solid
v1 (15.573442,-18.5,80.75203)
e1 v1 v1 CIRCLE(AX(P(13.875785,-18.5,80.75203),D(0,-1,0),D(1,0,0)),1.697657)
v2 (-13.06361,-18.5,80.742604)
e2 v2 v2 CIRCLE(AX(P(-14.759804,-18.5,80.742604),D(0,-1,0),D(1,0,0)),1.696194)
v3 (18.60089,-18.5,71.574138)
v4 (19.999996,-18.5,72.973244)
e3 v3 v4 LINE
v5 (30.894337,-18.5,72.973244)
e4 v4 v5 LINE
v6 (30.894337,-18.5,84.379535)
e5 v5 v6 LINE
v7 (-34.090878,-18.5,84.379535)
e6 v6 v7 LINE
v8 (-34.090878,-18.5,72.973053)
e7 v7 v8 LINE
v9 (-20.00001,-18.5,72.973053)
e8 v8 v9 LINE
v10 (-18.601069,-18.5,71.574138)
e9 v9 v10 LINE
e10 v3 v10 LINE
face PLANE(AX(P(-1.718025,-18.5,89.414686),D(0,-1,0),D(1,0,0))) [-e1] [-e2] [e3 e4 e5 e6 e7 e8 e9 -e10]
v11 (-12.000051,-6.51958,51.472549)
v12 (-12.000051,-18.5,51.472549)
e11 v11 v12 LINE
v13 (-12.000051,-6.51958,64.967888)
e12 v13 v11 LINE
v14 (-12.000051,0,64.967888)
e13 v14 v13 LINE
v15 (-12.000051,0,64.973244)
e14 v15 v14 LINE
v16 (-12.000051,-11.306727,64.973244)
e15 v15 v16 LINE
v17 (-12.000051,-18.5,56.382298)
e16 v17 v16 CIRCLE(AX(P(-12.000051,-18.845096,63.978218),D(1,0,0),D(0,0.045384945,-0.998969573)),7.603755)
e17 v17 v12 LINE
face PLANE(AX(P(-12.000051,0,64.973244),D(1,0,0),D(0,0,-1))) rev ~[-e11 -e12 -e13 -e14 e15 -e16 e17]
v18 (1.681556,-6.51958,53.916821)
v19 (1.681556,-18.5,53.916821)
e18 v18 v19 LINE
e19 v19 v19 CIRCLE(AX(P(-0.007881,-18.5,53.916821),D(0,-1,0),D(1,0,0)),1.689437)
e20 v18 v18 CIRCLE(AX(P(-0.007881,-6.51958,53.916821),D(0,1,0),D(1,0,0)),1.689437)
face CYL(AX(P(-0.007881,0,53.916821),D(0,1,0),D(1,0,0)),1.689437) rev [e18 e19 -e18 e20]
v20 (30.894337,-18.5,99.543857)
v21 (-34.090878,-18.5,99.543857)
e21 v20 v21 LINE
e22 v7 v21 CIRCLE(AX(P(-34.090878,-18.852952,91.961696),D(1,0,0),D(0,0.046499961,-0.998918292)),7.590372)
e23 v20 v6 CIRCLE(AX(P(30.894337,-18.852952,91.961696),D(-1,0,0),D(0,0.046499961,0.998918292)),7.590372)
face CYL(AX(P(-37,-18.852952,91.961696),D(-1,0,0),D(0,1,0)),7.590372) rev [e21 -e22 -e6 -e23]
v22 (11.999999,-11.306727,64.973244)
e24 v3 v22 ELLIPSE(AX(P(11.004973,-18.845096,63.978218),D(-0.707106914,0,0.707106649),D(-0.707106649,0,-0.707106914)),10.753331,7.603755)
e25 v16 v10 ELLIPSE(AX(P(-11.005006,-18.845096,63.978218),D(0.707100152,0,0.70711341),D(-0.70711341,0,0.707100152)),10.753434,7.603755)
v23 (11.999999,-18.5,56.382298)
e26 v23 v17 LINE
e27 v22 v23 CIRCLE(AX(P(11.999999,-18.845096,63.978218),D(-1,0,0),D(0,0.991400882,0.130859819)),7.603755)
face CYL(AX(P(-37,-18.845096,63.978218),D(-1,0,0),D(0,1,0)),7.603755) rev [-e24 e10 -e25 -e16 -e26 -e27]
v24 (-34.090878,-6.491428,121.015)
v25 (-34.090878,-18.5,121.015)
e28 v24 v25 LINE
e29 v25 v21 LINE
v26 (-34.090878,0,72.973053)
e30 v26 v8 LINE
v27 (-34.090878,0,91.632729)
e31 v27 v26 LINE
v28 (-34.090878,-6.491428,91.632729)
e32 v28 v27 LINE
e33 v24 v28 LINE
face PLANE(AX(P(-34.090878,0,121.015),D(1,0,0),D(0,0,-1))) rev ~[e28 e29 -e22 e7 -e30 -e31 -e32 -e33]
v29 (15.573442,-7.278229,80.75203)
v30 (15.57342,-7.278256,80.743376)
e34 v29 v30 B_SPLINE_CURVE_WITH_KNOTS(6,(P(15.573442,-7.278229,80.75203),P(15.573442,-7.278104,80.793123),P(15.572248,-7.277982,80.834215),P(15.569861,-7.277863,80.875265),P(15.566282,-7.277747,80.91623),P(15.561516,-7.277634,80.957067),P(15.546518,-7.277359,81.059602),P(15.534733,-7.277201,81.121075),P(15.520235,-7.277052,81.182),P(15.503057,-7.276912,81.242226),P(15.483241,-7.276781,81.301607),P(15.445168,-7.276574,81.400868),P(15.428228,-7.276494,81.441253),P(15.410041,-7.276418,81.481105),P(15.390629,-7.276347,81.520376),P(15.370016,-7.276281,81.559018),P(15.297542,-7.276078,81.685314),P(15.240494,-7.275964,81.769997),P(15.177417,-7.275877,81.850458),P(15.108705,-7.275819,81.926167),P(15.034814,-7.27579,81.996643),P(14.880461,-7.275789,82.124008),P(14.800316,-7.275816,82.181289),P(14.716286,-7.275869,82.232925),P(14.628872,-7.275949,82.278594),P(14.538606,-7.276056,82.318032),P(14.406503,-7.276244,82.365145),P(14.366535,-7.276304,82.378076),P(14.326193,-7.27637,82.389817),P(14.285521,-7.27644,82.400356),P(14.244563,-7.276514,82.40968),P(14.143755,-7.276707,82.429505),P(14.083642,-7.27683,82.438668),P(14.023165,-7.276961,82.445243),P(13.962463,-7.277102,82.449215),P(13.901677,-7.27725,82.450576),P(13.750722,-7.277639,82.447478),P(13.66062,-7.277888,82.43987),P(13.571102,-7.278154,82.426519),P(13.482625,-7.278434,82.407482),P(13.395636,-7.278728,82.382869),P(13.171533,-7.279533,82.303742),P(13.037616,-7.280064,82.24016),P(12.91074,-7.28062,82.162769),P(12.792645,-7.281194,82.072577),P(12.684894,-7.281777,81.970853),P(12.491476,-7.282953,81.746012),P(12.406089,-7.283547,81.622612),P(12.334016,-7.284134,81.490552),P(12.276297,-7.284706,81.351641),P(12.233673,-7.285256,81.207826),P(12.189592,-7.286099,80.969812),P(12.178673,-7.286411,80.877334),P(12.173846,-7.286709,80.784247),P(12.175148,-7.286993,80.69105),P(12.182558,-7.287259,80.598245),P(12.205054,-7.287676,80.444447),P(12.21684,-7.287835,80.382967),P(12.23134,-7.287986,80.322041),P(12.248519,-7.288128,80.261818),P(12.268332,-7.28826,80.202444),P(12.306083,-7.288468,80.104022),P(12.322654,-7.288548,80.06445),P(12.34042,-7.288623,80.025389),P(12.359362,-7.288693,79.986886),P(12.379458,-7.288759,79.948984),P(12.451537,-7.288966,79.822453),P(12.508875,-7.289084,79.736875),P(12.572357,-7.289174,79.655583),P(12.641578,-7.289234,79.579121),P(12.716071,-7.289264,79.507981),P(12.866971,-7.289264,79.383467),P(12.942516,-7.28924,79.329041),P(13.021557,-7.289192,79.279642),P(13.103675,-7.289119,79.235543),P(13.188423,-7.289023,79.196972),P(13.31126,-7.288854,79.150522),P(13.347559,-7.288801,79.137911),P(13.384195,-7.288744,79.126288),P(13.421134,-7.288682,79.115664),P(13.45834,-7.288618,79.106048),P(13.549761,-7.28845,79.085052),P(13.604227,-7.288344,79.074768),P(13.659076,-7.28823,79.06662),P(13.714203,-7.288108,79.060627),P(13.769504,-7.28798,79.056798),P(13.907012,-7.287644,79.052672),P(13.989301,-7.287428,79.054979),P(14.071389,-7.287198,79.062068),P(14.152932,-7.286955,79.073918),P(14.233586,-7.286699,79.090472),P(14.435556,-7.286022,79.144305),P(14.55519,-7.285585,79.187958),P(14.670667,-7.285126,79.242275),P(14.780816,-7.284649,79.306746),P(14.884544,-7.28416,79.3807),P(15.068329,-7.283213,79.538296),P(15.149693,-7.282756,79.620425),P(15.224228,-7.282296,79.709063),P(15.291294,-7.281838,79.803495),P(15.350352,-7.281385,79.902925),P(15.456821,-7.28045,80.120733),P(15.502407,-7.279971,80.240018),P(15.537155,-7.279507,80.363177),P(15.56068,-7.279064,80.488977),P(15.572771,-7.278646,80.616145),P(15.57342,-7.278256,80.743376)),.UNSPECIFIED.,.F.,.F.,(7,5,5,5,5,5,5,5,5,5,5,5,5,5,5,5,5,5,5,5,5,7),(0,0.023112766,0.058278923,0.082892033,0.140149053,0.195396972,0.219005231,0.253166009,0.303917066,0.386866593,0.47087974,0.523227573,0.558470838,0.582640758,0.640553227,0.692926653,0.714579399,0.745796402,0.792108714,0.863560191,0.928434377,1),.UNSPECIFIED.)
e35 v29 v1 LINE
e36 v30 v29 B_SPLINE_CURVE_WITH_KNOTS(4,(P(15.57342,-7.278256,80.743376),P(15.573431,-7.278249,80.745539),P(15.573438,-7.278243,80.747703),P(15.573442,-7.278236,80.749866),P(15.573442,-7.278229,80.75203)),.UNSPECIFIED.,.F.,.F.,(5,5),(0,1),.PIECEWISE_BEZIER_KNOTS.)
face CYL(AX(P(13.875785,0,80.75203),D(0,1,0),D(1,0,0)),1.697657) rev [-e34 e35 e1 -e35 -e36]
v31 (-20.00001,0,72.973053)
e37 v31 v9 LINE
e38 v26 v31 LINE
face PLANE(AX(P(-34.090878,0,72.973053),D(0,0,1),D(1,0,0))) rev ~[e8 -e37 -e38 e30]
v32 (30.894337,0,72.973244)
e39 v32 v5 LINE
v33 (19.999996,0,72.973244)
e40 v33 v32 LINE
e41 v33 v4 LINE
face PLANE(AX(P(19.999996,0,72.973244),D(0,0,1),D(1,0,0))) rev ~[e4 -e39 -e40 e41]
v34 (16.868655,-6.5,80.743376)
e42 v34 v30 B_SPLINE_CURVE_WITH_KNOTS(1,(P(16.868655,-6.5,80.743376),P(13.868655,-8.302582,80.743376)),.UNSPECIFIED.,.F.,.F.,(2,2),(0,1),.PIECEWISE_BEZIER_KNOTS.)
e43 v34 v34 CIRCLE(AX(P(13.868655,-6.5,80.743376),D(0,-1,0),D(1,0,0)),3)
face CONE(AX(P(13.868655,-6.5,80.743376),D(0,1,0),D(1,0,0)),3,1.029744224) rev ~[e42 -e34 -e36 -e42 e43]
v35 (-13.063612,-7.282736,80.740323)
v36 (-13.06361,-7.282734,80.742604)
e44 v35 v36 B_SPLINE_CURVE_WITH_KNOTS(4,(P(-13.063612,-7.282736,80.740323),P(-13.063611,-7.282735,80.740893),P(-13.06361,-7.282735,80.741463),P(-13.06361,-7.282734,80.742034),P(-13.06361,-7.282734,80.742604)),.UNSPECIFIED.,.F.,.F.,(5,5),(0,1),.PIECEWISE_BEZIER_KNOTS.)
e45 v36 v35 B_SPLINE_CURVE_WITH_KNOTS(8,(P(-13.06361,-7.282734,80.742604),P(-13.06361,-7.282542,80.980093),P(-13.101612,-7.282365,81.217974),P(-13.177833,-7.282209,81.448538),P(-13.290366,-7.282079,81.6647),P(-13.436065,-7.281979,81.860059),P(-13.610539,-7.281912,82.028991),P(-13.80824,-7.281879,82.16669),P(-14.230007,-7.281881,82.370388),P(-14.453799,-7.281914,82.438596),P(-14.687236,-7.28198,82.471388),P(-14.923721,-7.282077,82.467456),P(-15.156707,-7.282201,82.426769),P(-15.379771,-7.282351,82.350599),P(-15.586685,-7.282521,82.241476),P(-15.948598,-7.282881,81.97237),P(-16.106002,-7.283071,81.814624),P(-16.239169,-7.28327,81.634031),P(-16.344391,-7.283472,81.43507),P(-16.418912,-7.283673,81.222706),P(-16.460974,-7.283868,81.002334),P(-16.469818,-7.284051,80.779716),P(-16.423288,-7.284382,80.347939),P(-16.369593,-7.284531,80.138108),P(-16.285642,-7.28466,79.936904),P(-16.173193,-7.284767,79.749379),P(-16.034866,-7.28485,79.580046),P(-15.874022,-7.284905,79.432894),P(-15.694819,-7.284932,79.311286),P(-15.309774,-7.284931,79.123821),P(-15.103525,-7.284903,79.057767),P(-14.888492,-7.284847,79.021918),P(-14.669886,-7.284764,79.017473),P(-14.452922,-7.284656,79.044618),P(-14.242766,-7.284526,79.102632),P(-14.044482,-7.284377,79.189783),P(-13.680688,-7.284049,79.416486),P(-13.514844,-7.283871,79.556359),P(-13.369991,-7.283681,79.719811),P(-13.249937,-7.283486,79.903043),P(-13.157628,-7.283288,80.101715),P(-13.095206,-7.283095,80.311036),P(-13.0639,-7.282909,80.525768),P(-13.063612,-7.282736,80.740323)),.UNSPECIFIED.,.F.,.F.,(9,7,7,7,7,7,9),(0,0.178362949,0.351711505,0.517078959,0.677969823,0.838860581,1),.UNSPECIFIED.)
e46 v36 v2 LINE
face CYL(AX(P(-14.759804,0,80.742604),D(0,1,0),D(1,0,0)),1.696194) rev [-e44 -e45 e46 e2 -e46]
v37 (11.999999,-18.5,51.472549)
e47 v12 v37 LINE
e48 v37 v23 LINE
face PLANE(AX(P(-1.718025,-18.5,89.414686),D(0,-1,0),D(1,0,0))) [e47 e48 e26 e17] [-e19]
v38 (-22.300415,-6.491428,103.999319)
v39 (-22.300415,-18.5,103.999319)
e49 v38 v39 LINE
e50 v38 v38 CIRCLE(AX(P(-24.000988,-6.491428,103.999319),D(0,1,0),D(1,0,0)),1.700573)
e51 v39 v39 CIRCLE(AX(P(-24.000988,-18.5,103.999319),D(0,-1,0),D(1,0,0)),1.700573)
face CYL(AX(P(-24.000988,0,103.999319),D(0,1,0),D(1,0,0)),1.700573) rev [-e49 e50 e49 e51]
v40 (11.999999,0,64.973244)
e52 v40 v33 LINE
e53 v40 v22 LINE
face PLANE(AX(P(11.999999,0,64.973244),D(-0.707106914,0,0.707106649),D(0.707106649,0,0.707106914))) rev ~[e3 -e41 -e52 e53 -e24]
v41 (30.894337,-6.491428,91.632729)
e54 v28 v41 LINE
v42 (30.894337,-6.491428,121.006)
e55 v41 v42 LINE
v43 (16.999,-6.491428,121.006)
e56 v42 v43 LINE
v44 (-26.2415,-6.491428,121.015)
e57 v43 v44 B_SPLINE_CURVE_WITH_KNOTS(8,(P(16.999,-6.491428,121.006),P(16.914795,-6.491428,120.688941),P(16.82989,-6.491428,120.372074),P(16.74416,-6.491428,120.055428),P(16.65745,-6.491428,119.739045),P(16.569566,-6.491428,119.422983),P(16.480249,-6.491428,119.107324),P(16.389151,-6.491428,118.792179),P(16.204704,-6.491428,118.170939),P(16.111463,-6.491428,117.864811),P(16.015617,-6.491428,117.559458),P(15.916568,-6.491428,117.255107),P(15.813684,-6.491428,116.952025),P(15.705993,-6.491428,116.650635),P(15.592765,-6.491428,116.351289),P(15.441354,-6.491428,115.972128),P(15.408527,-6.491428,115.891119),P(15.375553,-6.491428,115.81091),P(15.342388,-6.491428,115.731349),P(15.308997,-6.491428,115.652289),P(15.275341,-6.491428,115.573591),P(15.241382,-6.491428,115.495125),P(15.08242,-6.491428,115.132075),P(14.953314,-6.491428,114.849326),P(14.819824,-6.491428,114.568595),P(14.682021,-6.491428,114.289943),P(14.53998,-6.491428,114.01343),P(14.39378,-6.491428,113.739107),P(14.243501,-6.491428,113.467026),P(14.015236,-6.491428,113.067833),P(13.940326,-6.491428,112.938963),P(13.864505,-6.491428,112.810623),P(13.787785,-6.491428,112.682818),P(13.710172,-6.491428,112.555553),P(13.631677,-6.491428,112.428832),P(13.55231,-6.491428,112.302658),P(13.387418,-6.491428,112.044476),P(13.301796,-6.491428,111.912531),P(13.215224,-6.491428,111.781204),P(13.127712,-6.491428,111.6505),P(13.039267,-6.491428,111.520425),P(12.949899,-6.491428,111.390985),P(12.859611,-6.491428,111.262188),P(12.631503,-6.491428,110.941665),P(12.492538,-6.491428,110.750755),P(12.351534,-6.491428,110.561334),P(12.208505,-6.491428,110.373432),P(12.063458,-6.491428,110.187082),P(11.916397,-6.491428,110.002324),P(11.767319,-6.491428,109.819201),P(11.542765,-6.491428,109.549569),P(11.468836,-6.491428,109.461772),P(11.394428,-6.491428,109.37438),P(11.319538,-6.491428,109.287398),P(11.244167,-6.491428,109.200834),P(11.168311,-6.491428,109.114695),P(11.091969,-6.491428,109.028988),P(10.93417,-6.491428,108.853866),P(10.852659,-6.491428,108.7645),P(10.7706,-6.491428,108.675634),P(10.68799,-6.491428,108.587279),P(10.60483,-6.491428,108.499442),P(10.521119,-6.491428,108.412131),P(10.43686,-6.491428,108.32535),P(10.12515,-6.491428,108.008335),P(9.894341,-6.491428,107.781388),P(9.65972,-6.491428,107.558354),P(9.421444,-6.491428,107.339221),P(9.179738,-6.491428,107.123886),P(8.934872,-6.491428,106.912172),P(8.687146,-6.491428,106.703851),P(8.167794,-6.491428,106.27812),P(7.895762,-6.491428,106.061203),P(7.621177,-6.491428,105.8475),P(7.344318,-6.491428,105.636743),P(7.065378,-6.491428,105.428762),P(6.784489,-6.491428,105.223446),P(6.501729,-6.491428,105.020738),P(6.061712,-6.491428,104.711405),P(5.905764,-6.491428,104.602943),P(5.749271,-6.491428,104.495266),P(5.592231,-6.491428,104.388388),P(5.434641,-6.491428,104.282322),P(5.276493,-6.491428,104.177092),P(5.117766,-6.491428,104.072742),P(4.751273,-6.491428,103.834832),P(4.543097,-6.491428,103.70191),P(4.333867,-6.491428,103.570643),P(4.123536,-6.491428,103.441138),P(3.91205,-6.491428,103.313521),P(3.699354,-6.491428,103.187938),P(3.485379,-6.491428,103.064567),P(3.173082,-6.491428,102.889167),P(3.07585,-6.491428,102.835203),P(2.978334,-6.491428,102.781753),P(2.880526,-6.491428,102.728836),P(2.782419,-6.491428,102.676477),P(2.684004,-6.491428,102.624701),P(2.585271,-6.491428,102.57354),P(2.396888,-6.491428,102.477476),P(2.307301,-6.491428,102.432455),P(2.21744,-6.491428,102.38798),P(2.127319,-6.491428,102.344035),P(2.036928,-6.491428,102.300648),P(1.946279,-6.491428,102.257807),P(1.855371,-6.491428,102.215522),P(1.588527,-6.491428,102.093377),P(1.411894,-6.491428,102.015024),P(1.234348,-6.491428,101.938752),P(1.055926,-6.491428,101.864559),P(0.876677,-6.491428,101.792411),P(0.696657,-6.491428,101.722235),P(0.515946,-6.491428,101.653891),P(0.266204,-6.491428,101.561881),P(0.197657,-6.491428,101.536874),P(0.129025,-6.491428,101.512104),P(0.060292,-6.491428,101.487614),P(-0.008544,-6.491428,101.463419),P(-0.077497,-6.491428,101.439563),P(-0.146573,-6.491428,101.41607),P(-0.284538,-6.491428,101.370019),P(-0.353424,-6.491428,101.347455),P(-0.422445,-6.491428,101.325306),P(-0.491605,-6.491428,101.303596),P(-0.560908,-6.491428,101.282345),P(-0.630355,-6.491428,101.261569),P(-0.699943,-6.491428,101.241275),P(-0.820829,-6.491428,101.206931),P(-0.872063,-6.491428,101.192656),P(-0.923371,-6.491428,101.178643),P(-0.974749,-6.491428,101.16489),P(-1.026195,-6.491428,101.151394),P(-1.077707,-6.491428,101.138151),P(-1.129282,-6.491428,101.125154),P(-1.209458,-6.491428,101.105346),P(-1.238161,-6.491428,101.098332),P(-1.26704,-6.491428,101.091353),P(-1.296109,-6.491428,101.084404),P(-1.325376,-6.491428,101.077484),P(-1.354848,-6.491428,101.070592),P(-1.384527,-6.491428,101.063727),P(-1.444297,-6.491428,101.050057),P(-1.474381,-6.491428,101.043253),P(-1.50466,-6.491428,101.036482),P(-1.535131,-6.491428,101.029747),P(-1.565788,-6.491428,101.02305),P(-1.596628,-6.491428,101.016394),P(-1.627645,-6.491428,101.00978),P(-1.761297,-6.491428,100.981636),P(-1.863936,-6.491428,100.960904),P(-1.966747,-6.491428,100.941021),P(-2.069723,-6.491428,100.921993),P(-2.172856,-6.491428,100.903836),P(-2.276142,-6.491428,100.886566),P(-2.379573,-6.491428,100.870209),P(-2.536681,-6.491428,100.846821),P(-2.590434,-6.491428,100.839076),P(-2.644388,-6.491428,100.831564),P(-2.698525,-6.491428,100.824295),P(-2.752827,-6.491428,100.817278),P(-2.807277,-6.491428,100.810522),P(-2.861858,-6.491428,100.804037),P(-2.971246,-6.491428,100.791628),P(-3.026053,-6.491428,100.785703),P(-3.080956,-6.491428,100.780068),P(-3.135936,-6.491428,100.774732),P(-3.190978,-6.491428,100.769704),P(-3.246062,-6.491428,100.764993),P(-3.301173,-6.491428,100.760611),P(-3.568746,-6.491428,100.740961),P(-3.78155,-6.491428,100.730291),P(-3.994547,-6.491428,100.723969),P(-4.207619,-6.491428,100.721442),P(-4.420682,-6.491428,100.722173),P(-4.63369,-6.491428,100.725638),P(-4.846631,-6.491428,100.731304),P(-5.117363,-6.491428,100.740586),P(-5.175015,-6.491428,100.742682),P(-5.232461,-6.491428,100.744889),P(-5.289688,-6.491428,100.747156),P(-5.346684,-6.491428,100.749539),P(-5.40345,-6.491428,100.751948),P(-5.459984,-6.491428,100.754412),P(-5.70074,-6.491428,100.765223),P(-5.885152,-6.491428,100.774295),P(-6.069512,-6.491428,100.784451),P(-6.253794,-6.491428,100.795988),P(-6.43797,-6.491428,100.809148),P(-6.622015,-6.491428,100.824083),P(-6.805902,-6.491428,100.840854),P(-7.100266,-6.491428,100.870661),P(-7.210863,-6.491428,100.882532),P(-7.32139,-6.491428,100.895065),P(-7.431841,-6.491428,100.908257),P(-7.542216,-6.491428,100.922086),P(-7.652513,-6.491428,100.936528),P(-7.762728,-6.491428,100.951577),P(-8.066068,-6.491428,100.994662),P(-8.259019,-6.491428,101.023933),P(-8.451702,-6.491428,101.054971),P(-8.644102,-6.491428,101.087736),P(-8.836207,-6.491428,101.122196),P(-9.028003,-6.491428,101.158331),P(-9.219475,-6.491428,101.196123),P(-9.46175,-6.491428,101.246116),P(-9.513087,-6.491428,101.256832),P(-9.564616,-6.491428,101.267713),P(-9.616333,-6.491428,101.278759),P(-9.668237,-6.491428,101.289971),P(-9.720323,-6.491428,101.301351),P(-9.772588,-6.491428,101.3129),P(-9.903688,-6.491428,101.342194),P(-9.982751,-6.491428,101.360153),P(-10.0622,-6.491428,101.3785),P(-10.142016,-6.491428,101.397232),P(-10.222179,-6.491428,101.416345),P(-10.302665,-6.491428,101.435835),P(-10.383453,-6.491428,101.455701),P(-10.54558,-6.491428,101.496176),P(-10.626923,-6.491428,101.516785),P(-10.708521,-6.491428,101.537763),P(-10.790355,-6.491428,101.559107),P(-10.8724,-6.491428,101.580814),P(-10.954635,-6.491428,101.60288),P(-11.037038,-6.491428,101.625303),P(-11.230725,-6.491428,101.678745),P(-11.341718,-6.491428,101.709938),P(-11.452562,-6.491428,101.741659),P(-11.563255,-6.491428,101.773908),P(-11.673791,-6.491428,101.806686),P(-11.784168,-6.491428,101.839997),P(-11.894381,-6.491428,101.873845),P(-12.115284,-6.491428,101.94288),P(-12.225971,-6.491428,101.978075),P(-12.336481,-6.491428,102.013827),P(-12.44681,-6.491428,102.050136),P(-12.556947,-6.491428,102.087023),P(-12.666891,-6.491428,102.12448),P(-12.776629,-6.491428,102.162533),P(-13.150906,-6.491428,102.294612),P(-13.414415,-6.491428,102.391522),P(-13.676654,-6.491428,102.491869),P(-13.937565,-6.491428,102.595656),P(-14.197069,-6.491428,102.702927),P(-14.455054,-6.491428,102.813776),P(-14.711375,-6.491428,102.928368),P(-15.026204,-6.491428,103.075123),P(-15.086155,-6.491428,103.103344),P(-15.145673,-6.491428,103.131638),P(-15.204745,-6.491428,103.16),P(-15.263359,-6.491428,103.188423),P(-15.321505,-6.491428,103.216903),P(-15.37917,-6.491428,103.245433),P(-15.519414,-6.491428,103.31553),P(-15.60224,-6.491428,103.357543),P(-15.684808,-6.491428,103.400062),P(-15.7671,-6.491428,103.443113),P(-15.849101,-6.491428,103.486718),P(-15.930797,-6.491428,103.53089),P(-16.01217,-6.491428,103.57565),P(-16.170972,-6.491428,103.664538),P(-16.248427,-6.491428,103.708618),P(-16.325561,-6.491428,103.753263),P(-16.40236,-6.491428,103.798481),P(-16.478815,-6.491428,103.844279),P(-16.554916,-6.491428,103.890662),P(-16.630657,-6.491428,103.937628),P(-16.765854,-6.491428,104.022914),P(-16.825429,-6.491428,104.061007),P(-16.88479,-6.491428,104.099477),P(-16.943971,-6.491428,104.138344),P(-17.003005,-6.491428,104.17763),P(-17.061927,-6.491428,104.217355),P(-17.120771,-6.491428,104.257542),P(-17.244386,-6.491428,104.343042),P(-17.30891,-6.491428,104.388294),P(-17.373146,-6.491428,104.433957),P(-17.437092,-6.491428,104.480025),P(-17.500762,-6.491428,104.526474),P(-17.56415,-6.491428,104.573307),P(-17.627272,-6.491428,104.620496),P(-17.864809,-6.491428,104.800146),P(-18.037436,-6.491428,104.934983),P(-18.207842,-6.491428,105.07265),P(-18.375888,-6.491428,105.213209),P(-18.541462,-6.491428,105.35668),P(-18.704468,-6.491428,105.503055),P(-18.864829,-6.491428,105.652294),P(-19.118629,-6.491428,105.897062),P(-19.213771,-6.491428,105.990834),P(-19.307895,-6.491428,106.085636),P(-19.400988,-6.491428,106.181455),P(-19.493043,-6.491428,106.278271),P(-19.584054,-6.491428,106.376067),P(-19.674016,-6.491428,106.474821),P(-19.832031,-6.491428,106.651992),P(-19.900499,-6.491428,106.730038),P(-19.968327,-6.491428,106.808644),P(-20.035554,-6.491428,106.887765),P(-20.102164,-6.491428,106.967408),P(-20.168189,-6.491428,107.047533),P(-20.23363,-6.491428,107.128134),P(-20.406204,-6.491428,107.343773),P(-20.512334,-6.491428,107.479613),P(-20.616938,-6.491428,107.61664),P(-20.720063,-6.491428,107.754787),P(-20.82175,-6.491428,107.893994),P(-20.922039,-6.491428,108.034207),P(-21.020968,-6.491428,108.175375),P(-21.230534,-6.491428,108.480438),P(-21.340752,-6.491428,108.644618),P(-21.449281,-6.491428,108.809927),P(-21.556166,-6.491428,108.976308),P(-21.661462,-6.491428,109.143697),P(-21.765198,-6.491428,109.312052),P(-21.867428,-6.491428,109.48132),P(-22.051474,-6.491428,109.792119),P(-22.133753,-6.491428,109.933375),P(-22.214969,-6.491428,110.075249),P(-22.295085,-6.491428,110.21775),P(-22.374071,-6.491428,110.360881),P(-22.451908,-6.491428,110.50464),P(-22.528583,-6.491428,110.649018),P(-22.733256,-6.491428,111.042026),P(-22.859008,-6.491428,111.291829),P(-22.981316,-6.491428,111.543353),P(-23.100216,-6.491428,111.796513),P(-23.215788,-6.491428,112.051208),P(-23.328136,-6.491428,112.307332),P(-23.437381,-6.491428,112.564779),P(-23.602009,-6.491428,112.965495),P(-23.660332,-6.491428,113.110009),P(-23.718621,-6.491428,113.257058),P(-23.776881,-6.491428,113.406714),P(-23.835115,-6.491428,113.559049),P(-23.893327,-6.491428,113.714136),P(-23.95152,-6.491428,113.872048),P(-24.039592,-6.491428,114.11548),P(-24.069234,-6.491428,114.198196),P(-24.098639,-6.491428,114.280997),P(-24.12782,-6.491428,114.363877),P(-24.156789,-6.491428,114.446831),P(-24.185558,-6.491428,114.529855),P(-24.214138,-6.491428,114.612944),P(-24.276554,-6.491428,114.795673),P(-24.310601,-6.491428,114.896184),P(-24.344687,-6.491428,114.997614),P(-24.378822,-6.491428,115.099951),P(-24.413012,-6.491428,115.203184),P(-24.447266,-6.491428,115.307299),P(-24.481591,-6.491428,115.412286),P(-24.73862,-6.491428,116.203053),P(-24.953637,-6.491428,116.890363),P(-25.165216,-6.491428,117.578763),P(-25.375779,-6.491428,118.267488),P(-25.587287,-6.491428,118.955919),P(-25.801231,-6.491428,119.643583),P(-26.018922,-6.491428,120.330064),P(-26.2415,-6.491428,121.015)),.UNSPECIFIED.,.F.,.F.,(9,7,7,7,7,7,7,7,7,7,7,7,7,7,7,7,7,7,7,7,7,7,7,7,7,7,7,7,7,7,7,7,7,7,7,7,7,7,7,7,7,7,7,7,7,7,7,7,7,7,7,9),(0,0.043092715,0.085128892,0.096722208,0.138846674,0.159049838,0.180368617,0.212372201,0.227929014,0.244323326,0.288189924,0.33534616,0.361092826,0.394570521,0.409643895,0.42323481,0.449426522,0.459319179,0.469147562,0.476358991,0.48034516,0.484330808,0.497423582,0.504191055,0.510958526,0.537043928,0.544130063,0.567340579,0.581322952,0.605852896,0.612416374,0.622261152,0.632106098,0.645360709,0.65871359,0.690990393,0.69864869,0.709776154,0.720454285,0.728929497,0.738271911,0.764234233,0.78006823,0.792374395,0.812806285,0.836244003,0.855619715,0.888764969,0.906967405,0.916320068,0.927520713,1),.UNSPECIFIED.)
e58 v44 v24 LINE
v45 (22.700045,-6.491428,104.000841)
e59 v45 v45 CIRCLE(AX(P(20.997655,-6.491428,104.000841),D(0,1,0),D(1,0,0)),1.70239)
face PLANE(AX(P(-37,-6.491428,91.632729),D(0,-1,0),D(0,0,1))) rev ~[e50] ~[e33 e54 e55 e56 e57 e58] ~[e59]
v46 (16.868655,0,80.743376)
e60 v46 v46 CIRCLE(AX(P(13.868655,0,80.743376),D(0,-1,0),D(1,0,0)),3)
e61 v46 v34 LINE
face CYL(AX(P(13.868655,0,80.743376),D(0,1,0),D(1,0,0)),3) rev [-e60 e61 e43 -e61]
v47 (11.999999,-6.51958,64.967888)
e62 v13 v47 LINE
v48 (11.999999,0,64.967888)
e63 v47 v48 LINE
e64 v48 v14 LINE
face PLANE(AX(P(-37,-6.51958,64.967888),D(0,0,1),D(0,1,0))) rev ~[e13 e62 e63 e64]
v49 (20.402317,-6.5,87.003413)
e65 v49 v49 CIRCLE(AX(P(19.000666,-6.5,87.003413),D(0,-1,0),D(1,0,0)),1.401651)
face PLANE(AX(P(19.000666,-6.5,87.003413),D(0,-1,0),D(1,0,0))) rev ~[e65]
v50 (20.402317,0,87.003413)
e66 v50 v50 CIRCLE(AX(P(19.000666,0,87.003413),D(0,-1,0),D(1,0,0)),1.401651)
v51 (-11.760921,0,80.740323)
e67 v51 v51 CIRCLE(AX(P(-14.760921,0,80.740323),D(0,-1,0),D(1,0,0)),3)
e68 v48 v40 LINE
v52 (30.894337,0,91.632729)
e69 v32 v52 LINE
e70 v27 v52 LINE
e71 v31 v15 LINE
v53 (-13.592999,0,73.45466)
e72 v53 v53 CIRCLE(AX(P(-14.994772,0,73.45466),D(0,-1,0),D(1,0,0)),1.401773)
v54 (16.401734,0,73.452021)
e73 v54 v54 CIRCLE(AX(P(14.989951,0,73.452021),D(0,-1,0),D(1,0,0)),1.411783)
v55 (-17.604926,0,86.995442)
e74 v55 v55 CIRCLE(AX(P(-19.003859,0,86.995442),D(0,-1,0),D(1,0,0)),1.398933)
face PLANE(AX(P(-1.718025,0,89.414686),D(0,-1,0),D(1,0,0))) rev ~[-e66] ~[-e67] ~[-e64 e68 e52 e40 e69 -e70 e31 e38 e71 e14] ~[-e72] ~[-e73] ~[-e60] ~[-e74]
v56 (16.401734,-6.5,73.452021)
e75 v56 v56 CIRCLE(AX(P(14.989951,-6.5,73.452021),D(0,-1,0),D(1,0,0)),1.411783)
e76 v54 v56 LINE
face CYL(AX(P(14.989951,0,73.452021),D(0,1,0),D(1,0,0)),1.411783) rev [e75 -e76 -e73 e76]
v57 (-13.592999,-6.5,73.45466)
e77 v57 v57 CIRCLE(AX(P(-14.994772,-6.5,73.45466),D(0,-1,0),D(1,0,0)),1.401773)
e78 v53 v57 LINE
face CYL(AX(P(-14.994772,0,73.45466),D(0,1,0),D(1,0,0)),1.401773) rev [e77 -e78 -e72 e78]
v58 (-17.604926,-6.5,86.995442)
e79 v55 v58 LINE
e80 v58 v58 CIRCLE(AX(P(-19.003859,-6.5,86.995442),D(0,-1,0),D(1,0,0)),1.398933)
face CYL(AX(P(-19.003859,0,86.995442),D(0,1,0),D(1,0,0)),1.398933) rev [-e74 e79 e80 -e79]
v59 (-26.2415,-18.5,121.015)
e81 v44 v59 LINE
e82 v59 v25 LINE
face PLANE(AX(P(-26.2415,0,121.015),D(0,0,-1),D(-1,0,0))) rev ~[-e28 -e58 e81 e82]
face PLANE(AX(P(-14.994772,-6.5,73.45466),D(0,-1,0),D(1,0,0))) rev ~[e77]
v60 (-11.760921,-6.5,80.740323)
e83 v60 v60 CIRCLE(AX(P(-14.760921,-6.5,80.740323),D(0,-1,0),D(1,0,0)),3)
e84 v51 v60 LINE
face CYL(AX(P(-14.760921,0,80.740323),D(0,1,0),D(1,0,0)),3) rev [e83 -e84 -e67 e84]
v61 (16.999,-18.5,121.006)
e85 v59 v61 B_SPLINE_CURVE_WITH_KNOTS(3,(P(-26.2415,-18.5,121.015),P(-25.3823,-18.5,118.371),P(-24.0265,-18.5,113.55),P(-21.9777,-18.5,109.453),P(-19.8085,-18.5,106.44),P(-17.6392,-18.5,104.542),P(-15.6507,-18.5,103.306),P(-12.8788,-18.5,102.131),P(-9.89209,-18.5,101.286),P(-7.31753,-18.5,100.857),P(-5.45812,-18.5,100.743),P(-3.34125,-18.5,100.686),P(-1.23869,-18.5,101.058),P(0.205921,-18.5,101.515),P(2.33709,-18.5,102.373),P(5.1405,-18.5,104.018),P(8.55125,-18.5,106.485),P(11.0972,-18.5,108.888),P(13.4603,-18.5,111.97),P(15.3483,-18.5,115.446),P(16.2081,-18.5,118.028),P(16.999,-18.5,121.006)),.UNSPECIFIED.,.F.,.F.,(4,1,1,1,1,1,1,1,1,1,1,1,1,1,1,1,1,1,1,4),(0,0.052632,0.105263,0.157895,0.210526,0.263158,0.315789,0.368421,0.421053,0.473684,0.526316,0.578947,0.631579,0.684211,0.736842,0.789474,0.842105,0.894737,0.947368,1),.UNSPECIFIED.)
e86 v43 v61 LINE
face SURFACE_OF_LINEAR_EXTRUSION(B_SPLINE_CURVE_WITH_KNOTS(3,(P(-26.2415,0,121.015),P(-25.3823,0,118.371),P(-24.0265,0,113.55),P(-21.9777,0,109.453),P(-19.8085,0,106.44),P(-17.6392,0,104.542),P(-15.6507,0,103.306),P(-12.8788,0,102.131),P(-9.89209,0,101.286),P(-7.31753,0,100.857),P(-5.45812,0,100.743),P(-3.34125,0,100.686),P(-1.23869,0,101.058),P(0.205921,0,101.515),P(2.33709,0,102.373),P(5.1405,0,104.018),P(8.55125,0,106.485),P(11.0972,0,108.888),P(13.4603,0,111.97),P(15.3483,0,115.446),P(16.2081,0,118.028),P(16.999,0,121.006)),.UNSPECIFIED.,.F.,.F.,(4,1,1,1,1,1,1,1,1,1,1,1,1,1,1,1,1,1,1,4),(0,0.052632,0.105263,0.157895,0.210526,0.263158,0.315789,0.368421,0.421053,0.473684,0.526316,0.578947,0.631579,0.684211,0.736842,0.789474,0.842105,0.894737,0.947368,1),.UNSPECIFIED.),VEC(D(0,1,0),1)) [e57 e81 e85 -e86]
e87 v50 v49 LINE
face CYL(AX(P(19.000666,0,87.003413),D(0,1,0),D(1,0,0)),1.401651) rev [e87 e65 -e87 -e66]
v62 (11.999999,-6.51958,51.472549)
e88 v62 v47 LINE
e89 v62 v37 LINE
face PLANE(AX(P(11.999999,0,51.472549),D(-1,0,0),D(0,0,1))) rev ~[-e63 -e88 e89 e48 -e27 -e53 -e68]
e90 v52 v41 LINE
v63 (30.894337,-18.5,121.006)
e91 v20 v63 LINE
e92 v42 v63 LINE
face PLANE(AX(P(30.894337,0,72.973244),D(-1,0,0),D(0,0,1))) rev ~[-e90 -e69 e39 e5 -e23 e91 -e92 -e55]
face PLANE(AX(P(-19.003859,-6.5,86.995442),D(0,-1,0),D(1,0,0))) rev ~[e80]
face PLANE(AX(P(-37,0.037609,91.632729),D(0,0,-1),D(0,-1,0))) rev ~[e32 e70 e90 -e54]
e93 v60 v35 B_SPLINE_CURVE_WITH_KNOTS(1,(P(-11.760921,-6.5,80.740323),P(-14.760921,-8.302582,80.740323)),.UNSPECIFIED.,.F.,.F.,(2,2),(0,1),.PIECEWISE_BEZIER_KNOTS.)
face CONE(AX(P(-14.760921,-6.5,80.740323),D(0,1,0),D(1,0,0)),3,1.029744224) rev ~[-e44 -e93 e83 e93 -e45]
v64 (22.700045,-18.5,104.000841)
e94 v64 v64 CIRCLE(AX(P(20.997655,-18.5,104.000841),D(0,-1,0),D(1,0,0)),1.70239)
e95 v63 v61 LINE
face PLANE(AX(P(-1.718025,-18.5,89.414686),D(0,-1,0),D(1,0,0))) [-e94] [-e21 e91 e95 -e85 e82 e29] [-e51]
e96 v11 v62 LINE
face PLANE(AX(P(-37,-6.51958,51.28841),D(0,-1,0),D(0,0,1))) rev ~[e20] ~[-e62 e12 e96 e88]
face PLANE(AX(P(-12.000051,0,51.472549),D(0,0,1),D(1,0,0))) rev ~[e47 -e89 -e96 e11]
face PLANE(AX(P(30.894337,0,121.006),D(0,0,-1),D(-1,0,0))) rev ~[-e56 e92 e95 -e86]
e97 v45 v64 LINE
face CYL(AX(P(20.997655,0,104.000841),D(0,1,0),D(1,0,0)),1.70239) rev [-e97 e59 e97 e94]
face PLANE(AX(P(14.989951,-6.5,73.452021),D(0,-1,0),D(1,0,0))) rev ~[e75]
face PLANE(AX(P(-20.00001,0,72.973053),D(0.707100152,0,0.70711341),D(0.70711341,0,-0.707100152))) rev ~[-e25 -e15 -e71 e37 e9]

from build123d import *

# Parameters (mm, degrees)
SKETCH_R        = 1.700573
SKETCH_R_2      = 1.696194
SKETCH_R_3      = 1.70239
SKETCH_R_4      = 1.697657
SKETCH_R_5      = 1.689437
PAD_DEPTH       = 18.5
SKETCH001_R     = 7.590372
SKETCH001_R_2   = 7.603755
POCKET_DEPTH    = 97
SKETCH002_R     = 3
HOLE_DEPTH      = 6.5
HOLE_TIPS_R     = 3
SKETCH003_R     = 1.411783
SKETCH003_R_2   = 1.401773
SKETCH003_R_3   = 1.398933
SKETCH003_R_4   = 1.401651
POCKET001_DEPTH = 6.5


with BuildPart() as part:
    # Sketch → Pad (new body)
    with BuildSketch(Plane.XZ):
        with BuildLine():
            Line((-26.2415, 121.015), (-34.090878, 121.015))
            Line((-34.090878, 121.015), (-34.090878, 72.973053))
            Line((-34.090878, 72.973053), (-20.00001, 72.973053))
            Line((-20.00001, 72.973053), (-12.000051, 64.973244))
            Line((-12.000051, 64.973244), (-12.000051, 51.472549))
            Line((-12.000051, 51.472549), (11.999999, 51.472549))
            Line((11.999999, 51.472549), (11.999999, 64.973244))
            Line((11.999999, 64.973244), (19.999996, 72.973244))
            Line((19.999996, 72.973244), (30.894337, 72.973244))
            Line((30.894337, 72.973244), (30.894337, 121.006))
            Line((30.894337, 121.006), (16.999, 121.006))
            add(Edge.make_bspline(
                [(-26.2415, 121.015), (-25.3823, 118.371), (-24.0265, 113.55), (-21.9777, 109.453), (-19.8085, 106.44), (-17.6392, 104.542), (-15.6507, 103.306), (-12.8788, 102.131), (-9.89209, 101.286), (-7.31753, 100.857), (-5.45812, 100.743), (-3.34125, 100.686), (-1.23869, 101.058), (0.205921, 101.515), (2.33709, 102.373), (5.1405, 104.018), (8.55125, 106.485), (11.0972, 108.888), (13.4603, 111.97), (15.3483, 115.446), (16.2081, 118.028), (16.999, 121.006)],
                knots=[0, 0, 0, 0, 0.052632, 0.105263, 0.157895, 0.210526, 0.263158, 0.315789, 0.368421, 0.421053, 0.473684, 0.526316, 0.578947, 0.631579, 0.684211, 0.736842, 0.789474, 0.842105, 0.894737, 0.947368, 1, 1, 1, 1], degree=3))
        make_face()
        with Locations((-24.000988, 103.999319)):
            Circle(SKETCH_R, mode=Mode.SUBTRACT)
        with Locations((-14.759804, 80.742604)):
            Circle(SKETCH_R_2, mode=Mode.SUBTRACT)
        with Locations((20.997655, 104.000841)):
            Circle(SKETCH_R_3, mode=Mode.SUBTRACT)
        with Locations((13.875785, 80.75203)):
            Circle(SKETCH_R_4, mode=Mode.SUBTRACT)
        with Locations((-0.007881, 53.916821)):
            Circle(SKETCH_R_5, mode=Mode.SUBTRACT)
    extrude(amount=PAD_DEPTH)

    # Sketch001 → Pocket (cut)
    with BuildSketch(Plane.YZ.offset(-37)):
        with Locations((-18.852952, 91.961696)):
            Circle(SKETCH001_R)
        with Locations((-18.845096, 63.978218)):
            Circle(SKETCH001_R_2)
        Polygon((-6.51958, 51.28841), (-6.51958, 64.967888), (0.037609, 64.967888), (0.037609, 73.101757), (0.037609, 91.632729), (-6.491428, 91.632729), (-6.491428, 124.613274), (19.66001, 122.879639), (13.066299, 46.559637), align=None)
    extrude(amount=POCKET_DEPTH, mode=Mode.SUBTRACT)

    # Sketch002 → Hole (cut)
    with BuildSketch(Plane.XZ):
        with Locations((-14.760921, 80.740323)):
            Circle(SKETCH002_R)
        with Locations((13.868655, 80.743376)):
            Circle(SKETCH002_R)
    extrude(amount=HOLE_DEPTH, mode=Mode.SUBTRACT)

    # Hole tips → Hole tip 1 section 0
    with BuildSketch(Plane.XZ.offset(6.5), mode=Mode.PRIVATE) as hole_tip_1_s0:
        with Locations((-14.760921, 80.740323)):
            Circle(HOLE_TIPS_R)
    loft([hole_tip_1_s0.sketch, Vertex(-14.760921, -8.302582, 80.740323)], mode=Mode.SUBTRACT)

    # Hole tips → Hole tip 2 section 0
    with BuildSketch(Plane.XZ.offset(6.5), mode=Mode.PRIVATE) as hole_tip_2_s0:
        with Locations((13.868655, 80.743376)):
            Circle(HOLE_TIPS_R)
    loft([hole_tip_2_s0.sketch, Vertex(13.868655, -8.302582, 80.743376)], mode=Mode.SUBTRACT)

    # Sketch003 → Pocket001 (cut)
    with BuildSketch(Plane.XZ):
        with Locations((14.989951, 73.452021)):
            Circle(SKETCH003_R)
        with Locations((-14.994772, 73.45466)):
            Circle(SKETCH003_R_2)
        with Locations((-19.003859, 86.995442)):
            Circle(SKETCH003_R_3)
        with Locations((19.000666, 87.003413)):
            Circle(SKETCH003_R_4)
    extrude(amount=POCKET001_DEPTH, mode=Mode.SUBTRACT)


solid = part.part
